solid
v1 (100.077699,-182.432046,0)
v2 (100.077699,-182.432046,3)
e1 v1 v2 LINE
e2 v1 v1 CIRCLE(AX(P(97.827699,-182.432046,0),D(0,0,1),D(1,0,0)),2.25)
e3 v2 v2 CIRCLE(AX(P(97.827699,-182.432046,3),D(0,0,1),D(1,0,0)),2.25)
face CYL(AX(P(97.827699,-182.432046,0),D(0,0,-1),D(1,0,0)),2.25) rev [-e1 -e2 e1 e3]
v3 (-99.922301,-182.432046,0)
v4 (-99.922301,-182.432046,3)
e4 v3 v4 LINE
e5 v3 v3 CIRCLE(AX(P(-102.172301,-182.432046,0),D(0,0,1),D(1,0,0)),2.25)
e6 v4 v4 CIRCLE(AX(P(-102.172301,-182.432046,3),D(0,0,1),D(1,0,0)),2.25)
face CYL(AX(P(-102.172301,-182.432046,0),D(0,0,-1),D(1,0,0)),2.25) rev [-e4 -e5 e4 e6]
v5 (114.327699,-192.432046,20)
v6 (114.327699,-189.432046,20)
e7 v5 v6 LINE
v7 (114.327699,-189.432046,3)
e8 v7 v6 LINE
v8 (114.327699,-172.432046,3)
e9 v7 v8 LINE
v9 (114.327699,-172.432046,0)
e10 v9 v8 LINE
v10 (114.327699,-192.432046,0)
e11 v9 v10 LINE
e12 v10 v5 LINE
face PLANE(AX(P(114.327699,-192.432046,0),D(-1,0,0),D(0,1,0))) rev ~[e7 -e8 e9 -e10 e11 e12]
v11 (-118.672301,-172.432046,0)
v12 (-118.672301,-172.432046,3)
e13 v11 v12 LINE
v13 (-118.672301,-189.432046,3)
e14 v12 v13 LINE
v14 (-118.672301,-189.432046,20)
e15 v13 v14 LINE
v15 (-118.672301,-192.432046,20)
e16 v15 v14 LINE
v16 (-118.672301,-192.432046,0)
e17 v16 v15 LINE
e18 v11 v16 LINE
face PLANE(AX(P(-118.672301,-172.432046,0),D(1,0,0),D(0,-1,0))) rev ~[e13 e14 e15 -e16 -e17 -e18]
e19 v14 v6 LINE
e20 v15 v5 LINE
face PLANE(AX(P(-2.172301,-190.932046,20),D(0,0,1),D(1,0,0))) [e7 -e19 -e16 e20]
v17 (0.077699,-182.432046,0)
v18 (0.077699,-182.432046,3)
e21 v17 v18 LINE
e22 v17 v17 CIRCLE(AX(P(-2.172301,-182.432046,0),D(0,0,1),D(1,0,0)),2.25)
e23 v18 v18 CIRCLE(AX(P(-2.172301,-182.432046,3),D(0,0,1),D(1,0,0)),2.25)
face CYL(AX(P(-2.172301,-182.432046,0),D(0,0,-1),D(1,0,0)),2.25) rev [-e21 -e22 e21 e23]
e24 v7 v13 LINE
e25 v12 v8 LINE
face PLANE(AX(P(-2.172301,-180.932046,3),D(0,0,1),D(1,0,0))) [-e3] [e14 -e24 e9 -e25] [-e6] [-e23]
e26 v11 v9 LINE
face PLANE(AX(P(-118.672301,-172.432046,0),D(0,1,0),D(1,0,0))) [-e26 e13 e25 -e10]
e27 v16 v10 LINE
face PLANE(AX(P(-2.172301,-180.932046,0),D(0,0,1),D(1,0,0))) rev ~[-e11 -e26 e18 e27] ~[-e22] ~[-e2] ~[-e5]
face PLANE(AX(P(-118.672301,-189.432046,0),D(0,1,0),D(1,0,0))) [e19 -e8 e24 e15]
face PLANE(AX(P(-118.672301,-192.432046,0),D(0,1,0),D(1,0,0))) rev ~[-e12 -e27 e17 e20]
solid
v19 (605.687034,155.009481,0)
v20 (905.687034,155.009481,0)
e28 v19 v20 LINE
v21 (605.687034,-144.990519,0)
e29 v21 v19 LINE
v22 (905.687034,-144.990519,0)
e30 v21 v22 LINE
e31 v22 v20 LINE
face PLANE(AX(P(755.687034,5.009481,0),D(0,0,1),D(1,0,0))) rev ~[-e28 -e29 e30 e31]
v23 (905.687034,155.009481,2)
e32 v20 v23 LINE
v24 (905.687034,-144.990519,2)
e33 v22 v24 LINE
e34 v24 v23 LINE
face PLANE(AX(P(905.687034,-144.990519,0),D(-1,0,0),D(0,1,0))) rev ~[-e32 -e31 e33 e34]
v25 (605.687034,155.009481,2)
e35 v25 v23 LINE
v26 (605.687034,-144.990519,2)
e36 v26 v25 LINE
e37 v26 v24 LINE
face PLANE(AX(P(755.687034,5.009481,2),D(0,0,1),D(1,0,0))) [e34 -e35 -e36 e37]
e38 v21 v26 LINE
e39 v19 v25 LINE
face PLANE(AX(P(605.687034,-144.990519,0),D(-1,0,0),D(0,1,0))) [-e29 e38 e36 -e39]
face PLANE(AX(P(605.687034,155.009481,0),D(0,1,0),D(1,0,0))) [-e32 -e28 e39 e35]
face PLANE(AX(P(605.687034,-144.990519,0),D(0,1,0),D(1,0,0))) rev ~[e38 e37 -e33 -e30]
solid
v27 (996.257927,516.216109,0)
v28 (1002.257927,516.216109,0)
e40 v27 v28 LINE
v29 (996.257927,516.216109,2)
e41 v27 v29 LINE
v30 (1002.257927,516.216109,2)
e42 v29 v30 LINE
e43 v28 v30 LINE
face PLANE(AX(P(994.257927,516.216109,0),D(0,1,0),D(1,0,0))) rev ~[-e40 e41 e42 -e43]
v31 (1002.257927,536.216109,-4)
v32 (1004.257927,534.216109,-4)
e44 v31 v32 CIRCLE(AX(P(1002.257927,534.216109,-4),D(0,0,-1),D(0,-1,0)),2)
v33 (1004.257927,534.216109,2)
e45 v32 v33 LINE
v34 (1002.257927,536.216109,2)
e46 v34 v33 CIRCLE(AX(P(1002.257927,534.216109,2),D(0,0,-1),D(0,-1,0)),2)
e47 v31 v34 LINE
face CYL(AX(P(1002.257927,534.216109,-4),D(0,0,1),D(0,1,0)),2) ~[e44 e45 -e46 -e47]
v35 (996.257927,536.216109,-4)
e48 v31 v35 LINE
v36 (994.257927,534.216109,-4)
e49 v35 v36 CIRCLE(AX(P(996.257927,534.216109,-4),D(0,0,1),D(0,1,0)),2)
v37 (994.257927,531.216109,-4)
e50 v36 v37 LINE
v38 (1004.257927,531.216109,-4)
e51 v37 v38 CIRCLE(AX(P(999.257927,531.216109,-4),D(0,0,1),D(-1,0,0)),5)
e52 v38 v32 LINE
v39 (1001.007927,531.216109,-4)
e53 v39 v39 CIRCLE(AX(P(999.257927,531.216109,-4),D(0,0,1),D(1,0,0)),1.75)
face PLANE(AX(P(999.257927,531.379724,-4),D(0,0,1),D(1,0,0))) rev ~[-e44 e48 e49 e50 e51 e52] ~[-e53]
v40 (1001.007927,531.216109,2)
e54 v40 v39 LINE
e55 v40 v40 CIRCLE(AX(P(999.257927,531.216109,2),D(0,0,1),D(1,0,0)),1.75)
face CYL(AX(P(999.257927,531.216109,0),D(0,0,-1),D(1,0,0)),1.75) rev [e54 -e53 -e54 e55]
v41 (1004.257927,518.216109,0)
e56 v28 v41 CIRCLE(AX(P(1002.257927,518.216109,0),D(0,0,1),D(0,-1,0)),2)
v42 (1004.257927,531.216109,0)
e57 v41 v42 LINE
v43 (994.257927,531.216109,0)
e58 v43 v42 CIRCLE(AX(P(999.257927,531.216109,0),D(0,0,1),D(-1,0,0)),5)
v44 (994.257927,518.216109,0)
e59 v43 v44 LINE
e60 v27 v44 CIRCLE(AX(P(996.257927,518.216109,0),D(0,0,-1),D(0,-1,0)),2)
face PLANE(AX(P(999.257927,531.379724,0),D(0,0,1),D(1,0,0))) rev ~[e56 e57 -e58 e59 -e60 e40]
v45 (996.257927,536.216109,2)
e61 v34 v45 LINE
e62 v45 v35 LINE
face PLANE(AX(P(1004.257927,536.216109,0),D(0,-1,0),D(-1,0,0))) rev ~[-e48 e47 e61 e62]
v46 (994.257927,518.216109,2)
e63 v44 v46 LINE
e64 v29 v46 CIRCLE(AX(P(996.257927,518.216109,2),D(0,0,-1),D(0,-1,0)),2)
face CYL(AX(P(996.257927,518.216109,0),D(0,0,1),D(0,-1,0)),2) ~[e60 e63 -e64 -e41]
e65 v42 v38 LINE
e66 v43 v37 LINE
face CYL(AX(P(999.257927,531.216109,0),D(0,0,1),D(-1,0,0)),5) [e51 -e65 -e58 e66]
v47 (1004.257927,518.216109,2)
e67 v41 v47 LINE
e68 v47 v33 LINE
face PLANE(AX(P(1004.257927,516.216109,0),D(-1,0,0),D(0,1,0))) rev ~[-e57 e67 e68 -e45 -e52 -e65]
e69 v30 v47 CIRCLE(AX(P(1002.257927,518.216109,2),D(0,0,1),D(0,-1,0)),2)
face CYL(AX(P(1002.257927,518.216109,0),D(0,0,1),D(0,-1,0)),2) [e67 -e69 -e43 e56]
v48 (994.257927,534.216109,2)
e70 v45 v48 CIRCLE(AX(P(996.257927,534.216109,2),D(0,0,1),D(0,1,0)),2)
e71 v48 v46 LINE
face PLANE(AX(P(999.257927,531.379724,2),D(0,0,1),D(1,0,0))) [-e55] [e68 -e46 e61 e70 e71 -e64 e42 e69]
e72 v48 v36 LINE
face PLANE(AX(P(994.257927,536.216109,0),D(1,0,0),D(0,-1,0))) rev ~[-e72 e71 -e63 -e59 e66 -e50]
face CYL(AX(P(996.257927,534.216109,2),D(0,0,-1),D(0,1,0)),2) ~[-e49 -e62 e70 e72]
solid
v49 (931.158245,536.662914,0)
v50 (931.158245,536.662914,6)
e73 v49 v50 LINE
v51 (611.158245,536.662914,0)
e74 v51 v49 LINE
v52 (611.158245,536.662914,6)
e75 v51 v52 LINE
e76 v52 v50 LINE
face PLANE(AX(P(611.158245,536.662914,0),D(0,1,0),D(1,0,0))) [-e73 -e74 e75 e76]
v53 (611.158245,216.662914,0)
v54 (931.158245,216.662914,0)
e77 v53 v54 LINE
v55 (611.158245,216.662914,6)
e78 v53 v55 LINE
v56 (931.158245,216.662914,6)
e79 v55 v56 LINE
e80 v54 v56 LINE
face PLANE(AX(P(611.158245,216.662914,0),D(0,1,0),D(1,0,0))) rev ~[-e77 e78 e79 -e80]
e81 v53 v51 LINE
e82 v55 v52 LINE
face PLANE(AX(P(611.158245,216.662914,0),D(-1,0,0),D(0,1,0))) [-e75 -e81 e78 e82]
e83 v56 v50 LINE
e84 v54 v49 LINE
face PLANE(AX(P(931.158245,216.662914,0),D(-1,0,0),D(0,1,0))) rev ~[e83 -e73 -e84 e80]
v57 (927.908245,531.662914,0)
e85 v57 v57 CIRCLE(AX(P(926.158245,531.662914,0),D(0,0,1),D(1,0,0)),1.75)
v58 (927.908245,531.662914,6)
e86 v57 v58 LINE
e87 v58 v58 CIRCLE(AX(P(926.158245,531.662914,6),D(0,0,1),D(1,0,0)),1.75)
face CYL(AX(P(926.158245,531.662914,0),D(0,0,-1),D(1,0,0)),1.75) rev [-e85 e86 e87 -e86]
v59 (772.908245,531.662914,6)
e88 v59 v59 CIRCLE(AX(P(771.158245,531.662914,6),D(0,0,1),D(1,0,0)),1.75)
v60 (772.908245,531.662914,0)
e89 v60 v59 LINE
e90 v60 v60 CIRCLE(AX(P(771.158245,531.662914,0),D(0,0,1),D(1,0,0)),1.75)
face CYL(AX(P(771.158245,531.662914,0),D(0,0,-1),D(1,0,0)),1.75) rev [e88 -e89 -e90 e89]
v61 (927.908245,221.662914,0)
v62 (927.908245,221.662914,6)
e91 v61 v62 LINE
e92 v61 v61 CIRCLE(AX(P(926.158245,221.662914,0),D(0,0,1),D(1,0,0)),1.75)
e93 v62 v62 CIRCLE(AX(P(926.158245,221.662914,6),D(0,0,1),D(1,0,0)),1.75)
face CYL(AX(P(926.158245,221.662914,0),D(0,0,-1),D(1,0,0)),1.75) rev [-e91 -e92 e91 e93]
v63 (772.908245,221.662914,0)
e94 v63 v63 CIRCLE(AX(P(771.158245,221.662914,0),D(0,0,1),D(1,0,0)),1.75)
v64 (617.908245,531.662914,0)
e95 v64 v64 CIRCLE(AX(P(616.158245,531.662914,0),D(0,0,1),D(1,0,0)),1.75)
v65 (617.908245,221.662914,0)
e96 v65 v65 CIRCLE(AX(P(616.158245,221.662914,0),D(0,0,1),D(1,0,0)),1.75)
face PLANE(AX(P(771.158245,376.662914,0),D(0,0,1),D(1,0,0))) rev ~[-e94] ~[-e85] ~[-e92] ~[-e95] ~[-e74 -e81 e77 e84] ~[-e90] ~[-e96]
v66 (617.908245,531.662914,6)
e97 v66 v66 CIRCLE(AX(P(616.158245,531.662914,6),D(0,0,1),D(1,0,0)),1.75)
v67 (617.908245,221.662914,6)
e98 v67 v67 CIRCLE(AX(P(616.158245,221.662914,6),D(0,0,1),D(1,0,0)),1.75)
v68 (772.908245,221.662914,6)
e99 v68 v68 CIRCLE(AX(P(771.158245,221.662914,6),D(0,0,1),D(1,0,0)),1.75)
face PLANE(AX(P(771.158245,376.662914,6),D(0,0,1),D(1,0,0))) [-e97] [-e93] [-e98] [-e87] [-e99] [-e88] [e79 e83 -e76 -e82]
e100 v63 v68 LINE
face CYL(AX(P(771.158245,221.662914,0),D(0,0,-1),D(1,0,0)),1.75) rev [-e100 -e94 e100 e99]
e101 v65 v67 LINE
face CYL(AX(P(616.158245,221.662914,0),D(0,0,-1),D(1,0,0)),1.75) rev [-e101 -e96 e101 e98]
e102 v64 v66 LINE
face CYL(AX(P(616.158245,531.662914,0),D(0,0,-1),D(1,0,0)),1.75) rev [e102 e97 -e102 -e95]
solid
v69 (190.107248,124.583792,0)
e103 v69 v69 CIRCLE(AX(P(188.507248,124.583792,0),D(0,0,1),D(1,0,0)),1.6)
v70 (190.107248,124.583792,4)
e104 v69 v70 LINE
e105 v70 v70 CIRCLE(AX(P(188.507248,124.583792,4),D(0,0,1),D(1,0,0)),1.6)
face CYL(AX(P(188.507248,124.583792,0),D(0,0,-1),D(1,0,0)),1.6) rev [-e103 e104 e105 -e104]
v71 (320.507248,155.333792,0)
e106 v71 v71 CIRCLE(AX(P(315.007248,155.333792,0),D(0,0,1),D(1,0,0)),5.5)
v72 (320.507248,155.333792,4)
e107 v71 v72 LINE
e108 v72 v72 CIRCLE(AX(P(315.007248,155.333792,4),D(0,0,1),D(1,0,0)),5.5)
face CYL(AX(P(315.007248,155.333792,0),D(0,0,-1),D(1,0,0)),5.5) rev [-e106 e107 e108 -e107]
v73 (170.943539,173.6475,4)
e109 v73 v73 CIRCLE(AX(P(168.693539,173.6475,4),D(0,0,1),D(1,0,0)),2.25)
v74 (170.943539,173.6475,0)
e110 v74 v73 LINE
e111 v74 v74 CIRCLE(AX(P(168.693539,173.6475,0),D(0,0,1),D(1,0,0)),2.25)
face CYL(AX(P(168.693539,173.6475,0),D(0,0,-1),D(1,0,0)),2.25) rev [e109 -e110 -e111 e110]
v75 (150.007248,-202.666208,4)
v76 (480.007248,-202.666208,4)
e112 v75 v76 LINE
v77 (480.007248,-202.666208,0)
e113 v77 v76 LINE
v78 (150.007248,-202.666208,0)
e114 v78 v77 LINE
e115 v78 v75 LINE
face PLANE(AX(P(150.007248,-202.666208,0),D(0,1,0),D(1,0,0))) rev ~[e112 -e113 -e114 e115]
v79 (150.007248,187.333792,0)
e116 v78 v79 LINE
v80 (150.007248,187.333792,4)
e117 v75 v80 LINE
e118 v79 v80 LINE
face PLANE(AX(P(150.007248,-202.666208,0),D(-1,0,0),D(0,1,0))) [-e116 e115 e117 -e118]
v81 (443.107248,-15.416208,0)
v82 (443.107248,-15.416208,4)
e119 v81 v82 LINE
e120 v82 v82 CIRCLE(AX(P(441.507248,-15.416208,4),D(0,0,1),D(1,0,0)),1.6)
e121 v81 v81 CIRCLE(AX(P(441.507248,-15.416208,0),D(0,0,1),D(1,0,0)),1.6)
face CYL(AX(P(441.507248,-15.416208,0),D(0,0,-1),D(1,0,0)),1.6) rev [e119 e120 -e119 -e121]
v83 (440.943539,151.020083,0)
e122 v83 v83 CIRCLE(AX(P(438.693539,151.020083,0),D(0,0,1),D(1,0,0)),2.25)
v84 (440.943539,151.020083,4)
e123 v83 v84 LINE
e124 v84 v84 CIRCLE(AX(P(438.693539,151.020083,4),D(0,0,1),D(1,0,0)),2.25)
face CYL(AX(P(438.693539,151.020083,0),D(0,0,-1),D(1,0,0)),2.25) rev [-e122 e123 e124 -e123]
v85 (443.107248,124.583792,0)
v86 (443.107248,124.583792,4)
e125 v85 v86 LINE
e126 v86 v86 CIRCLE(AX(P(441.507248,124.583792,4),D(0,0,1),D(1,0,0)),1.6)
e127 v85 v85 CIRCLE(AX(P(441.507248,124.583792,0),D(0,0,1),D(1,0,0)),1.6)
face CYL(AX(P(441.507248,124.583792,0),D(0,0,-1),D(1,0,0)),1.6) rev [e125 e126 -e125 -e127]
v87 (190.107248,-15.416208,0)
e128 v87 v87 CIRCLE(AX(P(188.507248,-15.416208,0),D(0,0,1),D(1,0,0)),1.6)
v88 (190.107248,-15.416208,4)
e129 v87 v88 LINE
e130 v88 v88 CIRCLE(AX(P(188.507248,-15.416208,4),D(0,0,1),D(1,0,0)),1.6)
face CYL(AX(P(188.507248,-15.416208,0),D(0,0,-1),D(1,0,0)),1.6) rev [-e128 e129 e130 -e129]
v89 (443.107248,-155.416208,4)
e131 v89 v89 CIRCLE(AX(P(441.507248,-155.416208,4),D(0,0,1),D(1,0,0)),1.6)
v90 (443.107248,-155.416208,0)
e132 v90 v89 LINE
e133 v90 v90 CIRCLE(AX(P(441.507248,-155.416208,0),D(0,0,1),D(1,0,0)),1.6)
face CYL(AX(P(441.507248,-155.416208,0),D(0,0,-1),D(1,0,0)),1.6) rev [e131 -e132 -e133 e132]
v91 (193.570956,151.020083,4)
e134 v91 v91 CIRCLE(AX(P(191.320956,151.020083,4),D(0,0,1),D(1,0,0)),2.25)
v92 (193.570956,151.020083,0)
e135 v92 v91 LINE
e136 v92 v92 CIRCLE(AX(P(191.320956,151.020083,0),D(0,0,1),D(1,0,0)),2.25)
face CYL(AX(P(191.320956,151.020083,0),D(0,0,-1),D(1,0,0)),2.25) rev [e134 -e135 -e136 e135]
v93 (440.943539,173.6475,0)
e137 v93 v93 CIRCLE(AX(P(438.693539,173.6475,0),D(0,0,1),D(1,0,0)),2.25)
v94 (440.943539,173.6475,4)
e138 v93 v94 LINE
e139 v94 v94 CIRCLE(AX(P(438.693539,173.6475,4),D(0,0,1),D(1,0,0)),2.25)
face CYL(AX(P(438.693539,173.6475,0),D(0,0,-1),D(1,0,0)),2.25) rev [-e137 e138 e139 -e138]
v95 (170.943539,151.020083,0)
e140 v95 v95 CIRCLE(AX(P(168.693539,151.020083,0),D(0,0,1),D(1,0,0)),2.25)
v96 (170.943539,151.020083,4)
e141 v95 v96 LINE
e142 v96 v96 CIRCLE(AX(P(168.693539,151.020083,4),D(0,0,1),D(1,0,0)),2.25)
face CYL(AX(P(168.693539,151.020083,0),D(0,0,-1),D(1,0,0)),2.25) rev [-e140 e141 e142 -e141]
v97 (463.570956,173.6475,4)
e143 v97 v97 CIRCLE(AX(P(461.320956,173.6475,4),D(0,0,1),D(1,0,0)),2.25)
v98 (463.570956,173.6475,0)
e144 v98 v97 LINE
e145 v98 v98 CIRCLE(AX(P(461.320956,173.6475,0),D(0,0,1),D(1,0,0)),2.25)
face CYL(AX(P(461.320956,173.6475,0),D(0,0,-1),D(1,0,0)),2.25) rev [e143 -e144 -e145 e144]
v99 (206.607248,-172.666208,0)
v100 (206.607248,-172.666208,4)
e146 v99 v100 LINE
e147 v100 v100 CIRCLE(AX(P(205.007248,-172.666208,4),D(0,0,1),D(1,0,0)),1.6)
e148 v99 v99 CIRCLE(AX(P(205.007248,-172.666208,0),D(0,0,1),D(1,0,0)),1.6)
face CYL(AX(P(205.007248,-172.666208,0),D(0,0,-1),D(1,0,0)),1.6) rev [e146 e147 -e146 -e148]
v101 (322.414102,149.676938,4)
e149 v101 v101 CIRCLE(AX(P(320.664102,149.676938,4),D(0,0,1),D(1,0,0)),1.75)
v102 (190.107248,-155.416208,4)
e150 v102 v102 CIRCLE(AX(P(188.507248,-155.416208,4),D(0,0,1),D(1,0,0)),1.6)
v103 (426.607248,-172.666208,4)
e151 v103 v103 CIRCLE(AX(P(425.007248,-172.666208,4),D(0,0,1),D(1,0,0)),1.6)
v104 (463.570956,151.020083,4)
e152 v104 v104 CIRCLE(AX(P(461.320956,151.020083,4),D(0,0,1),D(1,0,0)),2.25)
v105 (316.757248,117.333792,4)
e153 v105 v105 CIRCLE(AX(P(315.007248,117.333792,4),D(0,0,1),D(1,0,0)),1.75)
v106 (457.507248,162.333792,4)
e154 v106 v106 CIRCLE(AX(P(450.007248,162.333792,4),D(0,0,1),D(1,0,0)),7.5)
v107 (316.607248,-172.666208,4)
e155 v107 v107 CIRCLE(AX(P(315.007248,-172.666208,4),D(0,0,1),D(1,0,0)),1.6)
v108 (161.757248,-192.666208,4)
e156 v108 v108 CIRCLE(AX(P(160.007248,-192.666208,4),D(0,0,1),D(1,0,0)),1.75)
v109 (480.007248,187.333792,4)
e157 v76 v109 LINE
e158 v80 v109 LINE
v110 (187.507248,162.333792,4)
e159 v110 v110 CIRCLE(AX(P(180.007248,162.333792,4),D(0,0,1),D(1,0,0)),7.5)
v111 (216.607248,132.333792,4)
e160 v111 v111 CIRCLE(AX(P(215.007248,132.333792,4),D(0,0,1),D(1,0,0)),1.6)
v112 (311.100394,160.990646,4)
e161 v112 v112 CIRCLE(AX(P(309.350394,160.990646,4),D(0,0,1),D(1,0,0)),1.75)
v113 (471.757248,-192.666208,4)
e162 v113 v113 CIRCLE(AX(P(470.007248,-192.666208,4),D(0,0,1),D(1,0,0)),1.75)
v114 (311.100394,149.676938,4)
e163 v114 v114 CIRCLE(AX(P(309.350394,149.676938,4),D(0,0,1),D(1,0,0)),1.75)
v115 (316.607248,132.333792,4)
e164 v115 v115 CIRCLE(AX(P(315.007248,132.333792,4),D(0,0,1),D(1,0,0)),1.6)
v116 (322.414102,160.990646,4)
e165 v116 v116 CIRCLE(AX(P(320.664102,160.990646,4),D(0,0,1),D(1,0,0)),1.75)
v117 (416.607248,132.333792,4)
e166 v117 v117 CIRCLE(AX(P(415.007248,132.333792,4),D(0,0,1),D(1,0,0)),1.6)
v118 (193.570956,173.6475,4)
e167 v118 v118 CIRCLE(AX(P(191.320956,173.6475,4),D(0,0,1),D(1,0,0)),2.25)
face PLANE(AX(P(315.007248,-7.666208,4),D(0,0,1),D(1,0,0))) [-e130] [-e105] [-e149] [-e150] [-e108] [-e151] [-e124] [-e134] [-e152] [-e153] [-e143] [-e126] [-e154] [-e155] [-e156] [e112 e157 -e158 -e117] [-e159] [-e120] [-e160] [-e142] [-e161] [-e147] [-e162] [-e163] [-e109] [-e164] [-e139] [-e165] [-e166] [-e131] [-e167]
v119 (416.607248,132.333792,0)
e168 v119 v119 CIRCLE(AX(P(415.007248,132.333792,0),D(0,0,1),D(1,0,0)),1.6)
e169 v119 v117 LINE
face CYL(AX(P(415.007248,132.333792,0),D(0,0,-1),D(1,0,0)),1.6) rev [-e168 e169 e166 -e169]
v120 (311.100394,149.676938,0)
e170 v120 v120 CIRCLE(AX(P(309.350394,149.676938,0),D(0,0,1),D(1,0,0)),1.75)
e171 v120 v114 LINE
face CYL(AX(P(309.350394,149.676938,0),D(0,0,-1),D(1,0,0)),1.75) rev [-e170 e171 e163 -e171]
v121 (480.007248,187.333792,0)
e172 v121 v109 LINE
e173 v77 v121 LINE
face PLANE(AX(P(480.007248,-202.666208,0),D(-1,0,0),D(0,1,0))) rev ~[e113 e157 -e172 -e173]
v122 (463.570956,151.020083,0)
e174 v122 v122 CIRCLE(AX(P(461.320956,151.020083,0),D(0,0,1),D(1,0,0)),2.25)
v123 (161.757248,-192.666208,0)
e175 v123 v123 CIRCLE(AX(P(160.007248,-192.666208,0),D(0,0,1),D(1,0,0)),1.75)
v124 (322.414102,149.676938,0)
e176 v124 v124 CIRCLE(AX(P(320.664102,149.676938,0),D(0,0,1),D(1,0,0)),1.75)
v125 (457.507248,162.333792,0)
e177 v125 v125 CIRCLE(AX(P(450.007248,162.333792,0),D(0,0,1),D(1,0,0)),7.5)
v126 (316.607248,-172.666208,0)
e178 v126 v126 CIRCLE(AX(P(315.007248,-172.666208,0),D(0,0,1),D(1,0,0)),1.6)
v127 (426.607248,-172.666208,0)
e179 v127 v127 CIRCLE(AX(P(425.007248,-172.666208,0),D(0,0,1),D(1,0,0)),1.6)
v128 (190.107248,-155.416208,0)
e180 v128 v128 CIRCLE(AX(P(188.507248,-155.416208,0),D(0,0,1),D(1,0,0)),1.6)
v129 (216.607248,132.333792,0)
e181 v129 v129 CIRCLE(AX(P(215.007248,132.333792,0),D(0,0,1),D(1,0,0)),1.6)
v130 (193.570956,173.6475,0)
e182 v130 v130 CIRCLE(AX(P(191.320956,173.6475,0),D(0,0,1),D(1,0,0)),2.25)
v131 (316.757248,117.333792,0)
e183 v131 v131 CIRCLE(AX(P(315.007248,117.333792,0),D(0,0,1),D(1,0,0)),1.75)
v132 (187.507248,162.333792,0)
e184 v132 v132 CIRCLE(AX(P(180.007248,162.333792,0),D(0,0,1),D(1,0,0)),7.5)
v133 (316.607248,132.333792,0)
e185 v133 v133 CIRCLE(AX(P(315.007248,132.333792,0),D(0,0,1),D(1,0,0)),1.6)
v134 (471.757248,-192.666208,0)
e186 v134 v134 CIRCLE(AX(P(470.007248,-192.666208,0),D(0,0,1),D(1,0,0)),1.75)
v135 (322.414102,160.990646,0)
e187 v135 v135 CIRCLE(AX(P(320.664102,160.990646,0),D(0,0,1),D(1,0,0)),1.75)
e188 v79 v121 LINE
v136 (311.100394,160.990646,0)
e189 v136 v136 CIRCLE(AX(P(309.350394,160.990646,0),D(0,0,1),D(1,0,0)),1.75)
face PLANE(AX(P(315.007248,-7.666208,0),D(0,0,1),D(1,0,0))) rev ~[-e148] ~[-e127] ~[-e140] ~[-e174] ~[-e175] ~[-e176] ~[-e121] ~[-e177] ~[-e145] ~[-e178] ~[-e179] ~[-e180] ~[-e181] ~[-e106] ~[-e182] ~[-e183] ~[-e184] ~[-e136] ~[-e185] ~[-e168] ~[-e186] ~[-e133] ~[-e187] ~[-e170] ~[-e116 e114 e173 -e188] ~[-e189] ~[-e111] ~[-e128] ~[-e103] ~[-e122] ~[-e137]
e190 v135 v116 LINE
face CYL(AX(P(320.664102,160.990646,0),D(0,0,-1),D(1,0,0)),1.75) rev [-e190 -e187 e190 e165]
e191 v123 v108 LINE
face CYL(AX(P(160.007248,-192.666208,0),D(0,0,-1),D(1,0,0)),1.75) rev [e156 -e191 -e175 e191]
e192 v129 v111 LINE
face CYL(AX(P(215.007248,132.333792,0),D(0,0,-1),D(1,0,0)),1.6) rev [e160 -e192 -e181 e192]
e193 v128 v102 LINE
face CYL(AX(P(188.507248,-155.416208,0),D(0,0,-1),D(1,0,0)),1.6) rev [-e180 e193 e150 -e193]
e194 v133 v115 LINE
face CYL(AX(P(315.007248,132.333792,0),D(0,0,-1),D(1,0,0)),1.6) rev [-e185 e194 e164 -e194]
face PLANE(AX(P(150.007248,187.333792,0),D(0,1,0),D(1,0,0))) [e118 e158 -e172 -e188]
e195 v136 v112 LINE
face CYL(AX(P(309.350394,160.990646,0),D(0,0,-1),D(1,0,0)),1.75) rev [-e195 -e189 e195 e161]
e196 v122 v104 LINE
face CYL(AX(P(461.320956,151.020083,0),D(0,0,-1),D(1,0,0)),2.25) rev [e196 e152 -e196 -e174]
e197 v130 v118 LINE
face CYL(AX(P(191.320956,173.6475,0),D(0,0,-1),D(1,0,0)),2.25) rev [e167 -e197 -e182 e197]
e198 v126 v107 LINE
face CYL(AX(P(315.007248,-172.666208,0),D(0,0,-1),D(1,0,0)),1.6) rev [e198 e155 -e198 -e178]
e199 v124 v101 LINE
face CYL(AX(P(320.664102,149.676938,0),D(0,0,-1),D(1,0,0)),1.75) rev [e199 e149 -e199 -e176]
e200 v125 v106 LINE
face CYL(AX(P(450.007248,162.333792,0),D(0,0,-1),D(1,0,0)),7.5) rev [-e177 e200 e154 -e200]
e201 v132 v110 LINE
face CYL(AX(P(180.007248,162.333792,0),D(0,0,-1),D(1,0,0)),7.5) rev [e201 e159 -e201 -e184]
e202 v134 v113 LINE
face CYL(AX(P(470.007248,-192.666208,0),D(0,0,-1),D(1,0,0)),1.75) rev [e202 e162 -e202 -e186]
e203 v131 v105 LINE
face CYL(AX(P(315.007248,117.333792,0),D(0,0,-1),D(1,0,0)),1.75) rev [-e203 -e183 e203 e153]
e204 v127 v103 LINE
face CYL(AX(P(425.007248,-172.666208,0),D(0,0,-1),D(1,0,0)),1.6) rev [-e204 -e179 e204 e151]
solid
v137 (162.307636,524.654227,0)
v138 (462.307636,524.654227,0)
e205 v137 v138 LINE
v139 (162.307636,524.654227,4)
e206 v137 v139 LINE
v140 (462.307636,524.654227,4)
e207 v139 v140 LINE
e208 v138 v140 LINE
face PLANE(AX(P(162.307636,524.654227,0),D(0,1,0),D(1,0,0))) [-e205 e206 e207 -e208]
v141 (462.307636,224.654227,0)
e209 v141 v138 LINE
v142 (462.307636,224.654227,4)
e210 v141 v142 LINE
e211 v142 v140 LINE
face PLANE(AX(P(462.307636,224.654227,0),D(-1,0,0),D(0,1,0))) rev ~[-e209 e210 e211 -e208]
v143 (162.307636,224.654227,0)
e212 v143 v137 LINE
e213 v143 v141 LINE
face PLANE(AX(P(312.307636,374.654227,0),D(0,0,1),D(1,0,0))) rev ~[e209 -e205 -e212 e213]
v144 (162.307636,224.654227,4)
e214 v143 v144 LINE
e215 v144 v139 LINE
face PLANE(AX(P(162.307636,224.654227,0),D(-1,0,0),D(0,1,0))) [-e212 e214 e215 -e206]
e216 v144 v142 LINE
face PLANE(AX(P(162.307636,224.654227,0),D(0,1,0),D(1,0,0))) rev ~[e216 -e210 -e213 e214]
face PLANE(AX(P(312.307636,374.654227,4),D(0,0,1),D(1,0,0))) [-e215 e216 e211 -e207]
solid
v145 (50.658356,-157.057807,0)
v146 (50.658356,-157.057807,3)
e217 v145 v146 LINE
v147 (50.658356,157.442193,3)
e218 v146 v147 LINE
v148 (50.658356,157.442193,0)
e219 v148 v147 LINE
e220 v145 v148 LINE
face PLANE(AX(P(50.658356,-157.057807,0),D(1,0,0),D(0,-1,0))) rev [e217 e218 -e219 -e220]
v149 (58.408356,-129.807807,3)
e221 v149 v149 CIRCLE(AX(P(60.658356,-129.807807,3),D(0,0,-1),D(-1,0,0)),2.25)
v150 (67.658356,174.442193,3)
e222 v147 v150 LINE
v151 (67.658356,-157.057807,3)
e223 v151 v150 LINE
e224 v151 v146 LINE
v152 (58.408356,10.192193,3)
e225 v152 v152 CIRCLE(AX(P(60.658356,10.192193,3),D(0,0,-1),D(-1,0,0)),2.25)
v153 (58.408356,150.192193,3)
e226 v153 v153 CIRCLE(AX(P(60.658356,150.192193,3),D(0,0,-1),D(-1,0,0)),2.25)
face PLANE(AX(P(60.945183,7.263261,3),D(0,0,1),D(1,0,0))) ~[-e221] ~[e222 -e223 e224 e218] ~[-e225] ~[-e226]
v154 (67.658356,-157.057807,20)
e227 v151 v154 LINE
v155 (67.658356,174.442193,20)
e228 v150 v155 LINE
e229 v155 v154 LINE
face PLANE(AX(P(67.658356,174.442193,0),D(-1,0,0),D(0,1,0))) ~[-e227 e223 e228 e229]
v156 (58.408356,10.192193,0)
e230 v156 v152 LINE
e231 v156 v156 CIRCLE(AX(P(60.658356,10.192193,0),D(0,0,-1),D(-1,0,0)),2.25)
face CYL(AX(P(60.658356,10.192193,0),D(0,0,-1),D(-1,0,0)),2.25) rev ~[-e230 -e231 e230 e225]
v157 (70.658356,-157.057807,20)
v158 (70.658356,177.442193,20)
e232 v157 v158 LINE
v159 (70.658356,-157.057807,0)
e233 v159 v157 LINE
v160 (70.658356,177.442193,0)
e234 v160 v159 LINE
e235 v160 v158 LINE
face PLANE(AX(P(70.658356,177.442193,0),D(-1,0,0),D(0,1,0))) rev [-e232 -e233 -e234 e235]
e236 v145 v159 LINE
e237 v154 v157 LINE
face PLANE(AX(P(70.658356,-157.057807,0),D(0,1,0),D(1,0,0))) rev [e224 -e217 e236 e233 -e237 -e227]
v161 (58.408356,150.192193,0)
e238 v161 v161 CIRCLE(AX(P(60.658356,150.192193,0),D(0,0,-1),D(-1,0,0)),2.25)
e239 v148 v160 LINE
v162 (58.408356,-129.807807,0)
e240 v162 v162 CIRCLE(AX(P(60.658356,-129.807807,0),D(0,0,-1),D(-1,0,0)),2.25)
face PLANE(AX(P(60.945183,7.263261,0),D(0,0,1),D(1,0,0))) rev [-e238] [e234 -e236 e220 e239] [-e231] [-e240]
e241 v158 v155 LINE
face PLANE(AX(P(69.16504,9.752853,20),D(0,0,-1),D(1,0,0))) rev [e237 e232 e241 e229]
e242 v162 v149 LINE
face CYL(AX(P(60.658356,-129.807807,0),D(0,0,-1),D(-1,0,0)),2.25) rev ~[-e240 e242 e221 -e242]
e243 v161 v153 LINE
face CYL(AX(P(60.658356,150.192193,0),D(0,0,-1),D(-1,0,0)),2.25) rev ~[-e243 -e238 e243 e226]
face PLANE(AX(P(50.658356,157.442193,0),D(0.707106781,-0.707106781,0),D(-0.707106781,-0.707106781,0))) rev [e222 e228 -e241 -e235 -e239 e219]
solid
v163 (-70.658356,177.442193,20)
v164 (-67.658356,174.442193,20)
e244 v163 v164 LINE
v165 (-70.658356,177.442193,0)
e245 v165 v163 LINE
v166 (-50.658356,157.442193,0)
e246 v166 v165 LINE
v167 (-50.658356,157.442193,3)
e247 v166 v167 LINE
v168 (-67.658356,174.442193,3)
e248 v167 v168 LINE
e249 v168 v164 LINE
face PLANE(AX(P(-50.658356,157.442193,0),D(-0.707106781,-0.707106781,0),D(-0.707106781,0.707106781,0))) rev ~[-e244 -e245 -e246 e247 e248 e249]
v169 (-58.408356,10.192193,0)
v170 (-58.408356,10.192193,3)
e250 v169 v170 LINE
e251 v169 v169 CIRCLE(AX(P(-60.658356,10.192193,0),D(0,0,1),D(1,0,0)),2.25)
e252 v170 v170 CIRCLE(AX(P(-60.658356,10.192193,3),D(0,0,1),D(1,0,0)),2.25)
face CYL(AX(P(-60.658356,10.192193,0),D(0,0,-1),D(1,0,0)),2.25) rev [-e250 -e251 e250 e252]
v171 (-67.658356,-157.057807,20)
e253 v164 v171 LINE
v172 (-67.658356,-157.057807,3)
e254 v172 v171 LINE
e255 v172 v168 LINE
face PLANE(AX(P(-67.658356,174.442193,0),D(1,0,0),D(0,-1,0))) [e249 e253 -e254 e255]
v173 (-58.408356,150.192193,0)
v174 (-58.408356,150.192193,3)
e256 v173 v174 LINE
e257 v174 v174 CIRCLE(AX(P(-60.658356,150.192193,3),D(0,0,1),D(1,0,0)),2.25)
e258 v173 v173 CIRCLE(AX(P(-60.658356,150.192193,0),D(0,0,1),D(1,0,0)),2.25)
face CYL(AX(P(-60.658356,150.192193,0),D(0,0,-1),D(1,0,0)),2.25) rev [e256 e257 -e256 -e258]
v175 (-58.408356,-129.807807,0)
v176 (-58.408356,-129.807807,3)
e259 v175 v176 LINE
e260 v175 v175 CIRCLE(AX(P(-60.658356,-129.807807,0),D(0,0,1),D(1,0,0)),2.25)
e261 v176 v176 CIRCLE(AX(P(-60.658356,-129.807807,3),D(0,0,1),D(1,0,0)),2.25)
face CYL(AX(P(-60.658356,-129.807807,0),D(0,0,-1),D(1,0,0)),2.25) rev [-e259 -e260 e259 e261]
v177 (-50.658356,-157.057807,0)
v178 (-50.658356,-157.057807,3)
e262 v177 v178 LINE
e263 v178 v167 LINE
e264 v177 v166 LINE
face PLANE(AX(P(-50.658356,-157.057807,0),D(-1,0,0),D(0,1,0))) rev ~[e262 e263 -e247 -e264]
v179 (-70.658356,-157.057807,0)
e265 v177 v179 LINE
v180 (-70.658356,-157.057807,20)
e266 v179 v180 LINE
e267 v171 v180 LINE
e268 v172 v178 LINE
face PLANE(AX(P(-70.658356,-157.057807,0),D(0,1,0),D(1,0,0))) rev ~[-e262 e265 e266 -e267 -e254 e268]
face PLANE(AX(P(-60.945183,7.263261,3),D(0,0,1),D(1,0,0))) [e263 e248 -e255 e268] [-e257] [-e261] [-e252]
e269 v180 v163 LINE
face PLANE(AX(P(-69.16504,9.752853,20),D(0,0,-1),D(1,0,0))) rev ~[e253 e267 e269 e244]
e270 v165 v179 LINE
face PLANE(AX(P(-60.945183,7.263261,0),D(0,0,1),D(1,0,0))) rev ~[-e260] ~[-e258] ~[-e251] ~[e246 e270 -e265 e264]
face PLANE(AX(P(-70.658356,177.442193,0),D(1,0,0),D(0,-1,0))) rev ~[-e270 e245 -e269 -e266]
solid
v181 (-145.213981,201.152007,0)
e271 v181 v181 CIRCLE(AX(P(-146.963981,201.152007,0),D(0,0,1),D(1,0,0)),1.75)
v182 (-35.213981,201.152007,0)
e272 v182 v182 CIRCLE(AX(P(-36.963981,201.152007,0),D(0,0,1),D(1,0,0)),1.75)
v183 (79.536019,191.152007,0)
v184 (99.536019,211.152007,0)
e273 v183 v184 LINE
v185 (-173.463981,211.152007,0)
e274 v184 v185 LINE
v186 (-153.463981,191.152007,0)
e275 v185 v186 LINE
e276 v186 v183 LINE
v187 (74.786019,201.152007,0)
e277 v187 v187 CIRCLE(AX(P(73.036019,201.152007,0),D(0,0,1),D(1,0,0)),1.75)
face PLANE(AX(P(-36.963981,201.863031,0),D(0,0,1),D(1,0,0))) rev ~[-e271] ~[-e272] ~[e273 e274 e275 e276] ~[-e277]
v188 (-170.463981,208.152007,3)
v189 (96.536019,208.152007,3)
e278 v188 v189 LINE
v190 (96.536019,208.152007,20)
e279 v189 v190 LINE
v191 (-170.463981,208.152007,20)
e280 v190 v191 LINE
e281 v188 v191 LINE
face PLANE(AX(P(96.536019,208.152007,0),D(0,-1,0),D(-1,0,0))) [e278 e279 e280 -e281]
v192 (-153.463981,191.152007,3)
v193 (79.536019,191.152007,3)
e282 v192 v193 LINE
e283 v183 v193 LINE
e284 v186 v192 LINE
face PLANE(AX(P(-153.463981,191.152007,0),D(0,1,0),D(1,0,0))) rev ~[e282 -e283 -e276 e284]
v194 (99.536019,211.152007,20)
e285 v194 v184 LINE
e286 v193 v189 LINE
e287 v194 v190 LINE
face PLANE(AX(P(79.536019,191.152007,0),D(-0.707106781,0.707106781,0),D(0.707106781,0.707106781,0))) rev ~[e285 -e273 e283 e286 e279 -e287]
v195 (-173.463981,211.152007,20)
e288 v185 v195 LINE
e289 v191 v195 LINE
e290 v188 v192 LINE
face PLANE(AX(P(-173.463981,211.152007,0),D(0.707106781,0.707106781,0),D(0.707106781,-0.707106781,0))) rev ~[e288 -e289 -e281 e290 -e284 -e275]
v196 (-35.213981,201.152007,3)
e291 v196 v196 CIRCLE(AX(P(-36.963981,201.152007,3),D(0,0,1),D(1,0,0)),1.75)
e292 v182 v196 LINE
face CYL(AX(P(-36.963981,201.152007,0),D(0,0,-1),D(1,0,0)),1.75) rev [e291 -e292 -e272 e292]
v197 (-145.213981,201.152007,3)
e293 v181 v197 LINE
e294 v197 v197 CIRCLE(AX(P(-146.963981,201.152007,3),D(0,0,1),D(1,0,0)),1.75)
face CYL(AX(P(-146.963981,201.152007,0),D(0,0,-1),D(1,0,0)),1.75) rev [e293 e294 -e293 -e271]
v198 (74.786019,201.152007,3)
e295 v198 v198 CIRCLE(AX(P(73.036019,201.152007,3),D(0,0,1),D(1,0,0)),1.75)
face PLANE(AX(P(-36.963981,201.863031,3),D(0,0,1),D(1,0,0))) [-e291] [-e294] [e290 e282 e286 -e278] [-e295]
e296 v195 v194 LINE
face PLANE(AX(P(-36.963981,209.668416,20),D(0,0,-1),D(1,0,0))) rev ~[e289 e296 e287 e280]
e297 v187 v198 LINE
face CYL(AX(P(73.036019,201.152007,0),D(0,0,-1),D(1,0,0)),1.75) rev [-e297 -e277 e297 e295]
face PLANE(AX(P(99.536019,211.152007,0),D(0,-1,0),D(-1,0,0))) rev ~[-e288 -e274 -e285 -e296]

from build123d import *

# Parameters (mm, degrees)
F0_W      = 330
F0_H      = 390
F0_R      = 1.75
F0_R_2    = 1.6
F0_R_3    = 2.25
F0_R_4    = 7.5
F0_R_5    = 5.5
F1_DEPTH  = 4
F2_W      = 300
F2_H      = 300
F3_DEPTH  = 2
F4_W      = 320
F4_H      = 320
F4_R      = 1.75
F5_DEPTH  = 6
F6_W      = 300
F6_H      = 300
F7_DEPTH  = 4
F8_R      = 1.75
F9_DEPTH  = 4
F10_DEPTH = 2
F11_R     = 2
F12_R     = 2.25
F13_DEPTH = 3
F15_DEPTH = 20
F17_R     = 1.75
F18_DEPTH = 3
F20_DEPTH = 20
F21_W     = 233
F21_H     = 17
F21_R     = 2.25
F21_H_2   = 3
F22_DEPTH = 3
F23_DEPTH = 20


with BuildPart() as f1:
    # F0 (on Top) → F1 (new body)
    with BuildSketch(Plane.XY):
        with Locations((315.0072479248, -7.666208148)):
            Rectangle(F0_W, F0_H)
        with Locations((160.0072479248, -192.666208148)):
            Circle(F0_R, mode=Mode.SUBTRACT)
        with Locations((188.5072479248, -155.416208148)):
            Circle(F0_R_2, mode=Mode.SUBTRACT)
        with Locations((205.0072479248, -172.666208148)):
            Circle(F0_R_2, mode=Mode.SUBTRACT)
        with Locations((188.5072479248, -15.416208148)):
            Circle(F0_R_2, mode=Mode.SUBTRACT)
        with Locations((315.0072479248, -172.666208148)):
            Circle(F0_R_2, mode=Mode.SUBTRACT)
        with Locations((425.0072479248, -172.666208148)):
            Circle(F0_R_2, mode=Mode.SUBTRACT)
        with Locations((470.0072479248, -192.666208148)):
            Circle(F0_R, mode=Mode.SUBTRACT)
        with Locations((441.5072479248, -155.416208148)):
            Circle(F0_R_2, mode=Mode.SUBTRACT)
        with Locations((441.5072479248, -15.416208148)):
            Circle(F0_R_2, mode=Mode.SUBTRACT)
        with Locations((188.5072479248, 124.583791852)):
            Circle(F0_R_2, mode=Mode.SUBTRACT)
        with Locations((215.0072479248, 132.333791852)):
            Circle(F0_R_2, mode=Mode.SUBTRACT)
        with Locations((168.6935394258, 151.020083353)):
            Circle(F0_R_3, mode=Mode.SUBTRACT)
        with Locations((180.0072479248, 162.333791852)):
            Circle(F0_R_4, mode=Mode.SUBTRACT)
        with Locations((168.6935394258, 173.647500351)):
            Circle(F0_R_3, mode=Mode.SUBTRACT)
        with Locations((191.3209564238, 151.020083353)):
            Circle(F0_R_3, mode=Mode.SUBTRACT)
        with Locations((191.3209564238, 173.647500351)):
            Circle(F0_R_3, mode=Mode.SUBTRACT)
        with Locations((309.3503936753, 149.6769376025)):
            Circle(F0_R, mode=Mode.SUBTRACT)
        with Locations((309.3503936753, 160.9906461015)):
            Circle(F0_R, mode=Mode.SUBTRACT)
        with Locations((315.0072479248, 117.333791852)):
            Circle(F0_R, mode=Mode.SUBTRACT)
        with Locations((315.0072479248, 132.333791852)):
            Circle(F0_R_2, mode=Mode.SUBTRACT)
        with Locations((320.6641021743, 149.6769376025)):
            Circle(F0_R, mode=Mode.SUBTRACT)
        with Locations((315.0072479248, 155.333791852)):
            Circle(F0_R_5, mode=Mode.SUBTRACT)
        with Locations((320.6641021743, 160.9906461015)):
            Circle(F0_R, mode=Mode.SUBTRACT)
        with Locations((415.0072479248, 132.333791852)):
            Circle(F0_R_2, mode=Mode.SUBTRACT)
        with Locations((441.5072479248, 124.583791852)):
            Circle(F0_R_2, mode=Mode.SUBTRACT)
        with Locations((438.6935394258, 151.020083353)):
            Circle(F0_R_3, mode=Mode.SUBTRACT)
        with Locations((438.6935394258, 173.647500351)):
            Circle(F0_R_3, mode=Mode.SUBTRACT)
        with Locations((450.0072479248, 162.333791852)):
            Circle(F0_R_4, mode=Mode.SUBTRACT)
        with Locations((461.3209564238, 151.020083353)):
            Circle(F0_R_3, mode=Mode.SUBTRACT)
        with Locations((461.3209564238, 173.647500351)):
            Circle(F0_R_3, mode=Mode.SUBTRACT)
    extrude(amount=F1_DEPTH)


with BuildPart() as f3:
    # F2 (on Top) → F3 (new body)
    with BuildSketch(Plane.XY):
        with Locations((755.6870341301, 5.0094813108)):
            Rectangle(F2_W, F2_H)
    extrude(amount=F3_DEPTH)


with BuildPart() as f5:
    # F4 (on Top) → F5 (new body)
    with BuildSketch(Plane.XY):
        with Locations((771.1582446098, 376.6629135609)):
            Rectangle(F4_W, F4_H)
        with Locations((616.1582446098, 221.6629135609)):
            Circle(F4_R, mode=Mode.SUBTRACT)
        with Locations((771.1582446098, 221.6629135609)):
            Circle(F4_R, mode=Mode.SUBTRACT)
        with Locations((926.1582446098, 221.6629135609)):
            Circle(F4_R, mode=Mode.SUBTRACT)
        with Locations((616.1582446098, 531.6629135609)):
            Circle(F4_R, mode=Mode.SUBTRACT)
        with Locations((771.1582446098, 531.6629135609)):
            Circle(F4_R, mode=Mode.SUBTRACT)
        with Locations((926.1582446098, 531.6629135609)):
            Circle(F4_R, mode=Mode.SUBTRACT)
    extrude(amount=F5_DEPTH)


with BuildPart() as f7:
    # F6 (on Top) → F7 (new body)
    with BuildSketch(Plane.XY):
        with Locations((312.3076361418, 374.6542274952)):
            Rectangle(F6_W, F6_H)
    extrude(amount=F7_DEPTH)


with BuildPart() as f9:
    # F8 (on Top) → F9 (new body)
    with BuildSketch(Plane.XY):
        with BuildLine():
            ThreePointArc((994.2579269409, 531.216108799), (999.2579269409, 526.216108799), (1004.2579269409, 531.216108799))
            ThreePointArc((1004.2579269409, 531.216108799), (1002.7934608469, 534.7516427049), (999.2579269409, 536.216108799))
            ThreePointArc((999.2579269409, 536.216108799), (995.722393035, 534.7516427049), (994.2579269409, 531.216108799))
        make_face()
        with Locations((999.2579269409, 531.216108799)):
            Circle(F8_R, mode=Mode.SUBTRACT)
        with BuildLine():
            ThreePointArc((994.2579269409, 531.216108799), (995.722393035, 534.7516427049), (999.2579269409, 536.216108799))
            Line((999.2579269409, 536.216108799), (994.2579269409, 536.216108799))
            Line((994.2579269409, 536.216108799), (994.2579269409, 531.216108799))
        make_face()
        with BuildLine():
            ThreePointArc((999.2579269409, 536.216108799), (1002.7934608469, 534.7516427049), (1004.2579269409, 531.216108799))
            Line((1004.2579269409, 531.216108799), (1004.2579269409, 536.216108799))
            Line((1004.2579269409, 536.216108799), (999.2579269409, 536.216108799))
        make_face()
    extrude(amount=-F9_DEPTH)

    # F8 (on Top) → F10 (join)
    with BuildSketch(Plane.XY):
        with BuildLine():
            ThreePointArc((994.2579269409, 531.216108799), (999.2579269409, 526.216108799), (1004.2579269409, 531.216108799))
            ThreePointArc((1004.2579269409, 531.216108799), (1002.7934608469, 534.7516427049), (999.2579269409, 536.216108799))
            ThreePointArc((999.2579269409, 536.216108799), (995.722393035, 534.7516427049), (994.2579269409, 531.216108799))
        make_face()
        with Locations((999.2579269409, 531.216108799)):
            Circle(F8_R, mode=Mode.SUBTRACT)
        with BuildLine():
            Line((1004.2579269409, 516.216108799), (1004.2579269409, 531.216108799))
            ThreePointArc((1004.2579269409, 531.216108799), (999.2579269409, 526.216108799), (994.2579269409, 531.216108799))
            Line((994.2579269409, 531.216108799), (994.2579269409, 516.216108799))
            Line((994.2579269409, 516.216108799), (1004.2579269409, 516.216108799))
        make_face()
        with BuildLine():
            ThreePointArc((999.2579269409, 536.216108799), (1002.7934608469, 534.7516427049), (1004.2579269409, 531.216108799))
            Line((1004.2579269409, 531.216108799), (1004.2579269409, 536.216108799))
            Line((1004.2579269409, 536.216108799), (999.2579269409, 536.216108799))
        make_face()
        with BuildLine():
            ThreePointArc((994.2579269409, 531.216108799), (995.722393035, 534.7516427049), (999.2579269409, 536.216108799))
            Line((999.2579269409, 536.216108799), (994.2579269409, 536.216108799))
            Line((994.2579269409, 536.216108799), (994.2579269409, 531.216108799))
        make_face()
    extrude(amount=F10_DEPTH)

    # F11
    f11_edges = [f9.edges().sort_by_distance(p)[0] for p in [
        (994.257927, 516.216109, 1),
        (1004.257927, 516.216109, 1),
        (1004.257927, 536.216109, -1),
        (994.257927, 536.216109, -1),
    ]]
    fillet(f11_edges, radius=F11_R)


with BuildPart() as f13:
    # F12 (on Top) → F13 (new body)
    with BuildSketch(Plane.XY):
        Polygon((-50.6583559513, 157.4421931505), (-70.6583559513, 177.4421931505), (-70.6583559513, -157.0578068495), (-50.6583559513, -157.0578068495), align=None)
        with Locations((-60.6583559513, -129.8078068495)):
            Circle(F12_R, mode=Mode.SUBTRACT)
        with Locations((-60.6583559513, 10.1921931505)):
            Circle(F12_R, mode=Mode.SUBTRACT)
        with Locations((-60.6583559513, 150.1921931505)):
            Circle(F12_R, mode=Mode.SUBTRACT)
    extrude(amount=F13_DEPTH)

    # F14 (on face) → F15 (join)
    with BuildSketch(Plane(origin=(0, 0, 0), x_dir=(1, 0, 0), z_dir=(0, 0, -1))):
        Polygon((-70.6583559513, 157.0578068495), (-70.6583559513, -177.4421931505), (-67.6583559513, -174.4421931505), (-67.6583559513, 157.0578068495), align=None)
    extrude(amount=-F15_DEPTH)


with BuildPart() as f16_1:
    # F16: instance of F13
    add(f13.part.mirror(Plane.YZ))


with BuildPart() as f18:
    # F17 (on Top) → F18 (new body)
    with BuildSketch(Plane.XY):
        Polygon((99.5360185672, 211.1520070005), (-173.4639814328, 211.1520070005), (-153.4639814328, 191.1520070005), (79.5360185672, 191.1520070005), align=None)
        with Locations((73.0360185672, 201.1520070005)):
            Circle(F17_R, mode=Mode.SUBTRACT)
        with Locations((-146.9639814328, 201.1520070005)):
            Circle(F17_R, mode=Mode.SUBTRACT)
        with Locations((-36.9639814328, 201.1520070005)):
            Circle(F17_R, mode=Mode.SUBTRACT)
    extrude(amount=F18_DEPTH)

    # F19 (on face) → F20 (join)
    with BuildSketch(Plane(origin=(0, 0, 0), x_dir=(1, 0, 0), z_dir=(0, 0, -1))):
        Polygon((-170.4639814328, -208.1520070005), (-173.4639814328, -211.1520070005), (99.5360185672, -211.1520070005), (96.5360185672, -208.1520070005), align=None)
    extrude(amount=-F20_DEPTH)


with BuildPart() as f22:
    # F21 (on Top) → F22 (new body)
    with BuildSketch(Plane.XY):
        with Locations((-2.172301054, -180.9320459366)):
            Rectangle(F21_W, F21_H)
        with Locations((-102.172301054, -182.4320459366)):
            Circle(F21_R, mode=Mode.SUBTRACT)
        with Locations((-2.172301054, -182.4320459366)):
            Circle(F21_R, mode=Mode.SUBTRACT)
        with Locations((97.827698946, -182.4320459366)):
            Circle(F21_R, mode=Mode.SUBTRACT)
        with Locations((-2.172301054, -190.9320459366)):
            Rectangle(F21_W, F21_H_2)
    extrude(amount=F22_DEPTH)

    # F21 (on Top) → F23 (join)
    with BuildSketch(Plane.XY):
        with Locations((-2.172301054, -190.9320459366)):
            Rectangle(F21_W, F21_H_2)
    extrude(amount=F23_DEPTH)


solid = Compound([f1.part, f3.part, f5.part, f7.part, f9.part, f13.part, f16_1.part, f18.part, f22.part])
